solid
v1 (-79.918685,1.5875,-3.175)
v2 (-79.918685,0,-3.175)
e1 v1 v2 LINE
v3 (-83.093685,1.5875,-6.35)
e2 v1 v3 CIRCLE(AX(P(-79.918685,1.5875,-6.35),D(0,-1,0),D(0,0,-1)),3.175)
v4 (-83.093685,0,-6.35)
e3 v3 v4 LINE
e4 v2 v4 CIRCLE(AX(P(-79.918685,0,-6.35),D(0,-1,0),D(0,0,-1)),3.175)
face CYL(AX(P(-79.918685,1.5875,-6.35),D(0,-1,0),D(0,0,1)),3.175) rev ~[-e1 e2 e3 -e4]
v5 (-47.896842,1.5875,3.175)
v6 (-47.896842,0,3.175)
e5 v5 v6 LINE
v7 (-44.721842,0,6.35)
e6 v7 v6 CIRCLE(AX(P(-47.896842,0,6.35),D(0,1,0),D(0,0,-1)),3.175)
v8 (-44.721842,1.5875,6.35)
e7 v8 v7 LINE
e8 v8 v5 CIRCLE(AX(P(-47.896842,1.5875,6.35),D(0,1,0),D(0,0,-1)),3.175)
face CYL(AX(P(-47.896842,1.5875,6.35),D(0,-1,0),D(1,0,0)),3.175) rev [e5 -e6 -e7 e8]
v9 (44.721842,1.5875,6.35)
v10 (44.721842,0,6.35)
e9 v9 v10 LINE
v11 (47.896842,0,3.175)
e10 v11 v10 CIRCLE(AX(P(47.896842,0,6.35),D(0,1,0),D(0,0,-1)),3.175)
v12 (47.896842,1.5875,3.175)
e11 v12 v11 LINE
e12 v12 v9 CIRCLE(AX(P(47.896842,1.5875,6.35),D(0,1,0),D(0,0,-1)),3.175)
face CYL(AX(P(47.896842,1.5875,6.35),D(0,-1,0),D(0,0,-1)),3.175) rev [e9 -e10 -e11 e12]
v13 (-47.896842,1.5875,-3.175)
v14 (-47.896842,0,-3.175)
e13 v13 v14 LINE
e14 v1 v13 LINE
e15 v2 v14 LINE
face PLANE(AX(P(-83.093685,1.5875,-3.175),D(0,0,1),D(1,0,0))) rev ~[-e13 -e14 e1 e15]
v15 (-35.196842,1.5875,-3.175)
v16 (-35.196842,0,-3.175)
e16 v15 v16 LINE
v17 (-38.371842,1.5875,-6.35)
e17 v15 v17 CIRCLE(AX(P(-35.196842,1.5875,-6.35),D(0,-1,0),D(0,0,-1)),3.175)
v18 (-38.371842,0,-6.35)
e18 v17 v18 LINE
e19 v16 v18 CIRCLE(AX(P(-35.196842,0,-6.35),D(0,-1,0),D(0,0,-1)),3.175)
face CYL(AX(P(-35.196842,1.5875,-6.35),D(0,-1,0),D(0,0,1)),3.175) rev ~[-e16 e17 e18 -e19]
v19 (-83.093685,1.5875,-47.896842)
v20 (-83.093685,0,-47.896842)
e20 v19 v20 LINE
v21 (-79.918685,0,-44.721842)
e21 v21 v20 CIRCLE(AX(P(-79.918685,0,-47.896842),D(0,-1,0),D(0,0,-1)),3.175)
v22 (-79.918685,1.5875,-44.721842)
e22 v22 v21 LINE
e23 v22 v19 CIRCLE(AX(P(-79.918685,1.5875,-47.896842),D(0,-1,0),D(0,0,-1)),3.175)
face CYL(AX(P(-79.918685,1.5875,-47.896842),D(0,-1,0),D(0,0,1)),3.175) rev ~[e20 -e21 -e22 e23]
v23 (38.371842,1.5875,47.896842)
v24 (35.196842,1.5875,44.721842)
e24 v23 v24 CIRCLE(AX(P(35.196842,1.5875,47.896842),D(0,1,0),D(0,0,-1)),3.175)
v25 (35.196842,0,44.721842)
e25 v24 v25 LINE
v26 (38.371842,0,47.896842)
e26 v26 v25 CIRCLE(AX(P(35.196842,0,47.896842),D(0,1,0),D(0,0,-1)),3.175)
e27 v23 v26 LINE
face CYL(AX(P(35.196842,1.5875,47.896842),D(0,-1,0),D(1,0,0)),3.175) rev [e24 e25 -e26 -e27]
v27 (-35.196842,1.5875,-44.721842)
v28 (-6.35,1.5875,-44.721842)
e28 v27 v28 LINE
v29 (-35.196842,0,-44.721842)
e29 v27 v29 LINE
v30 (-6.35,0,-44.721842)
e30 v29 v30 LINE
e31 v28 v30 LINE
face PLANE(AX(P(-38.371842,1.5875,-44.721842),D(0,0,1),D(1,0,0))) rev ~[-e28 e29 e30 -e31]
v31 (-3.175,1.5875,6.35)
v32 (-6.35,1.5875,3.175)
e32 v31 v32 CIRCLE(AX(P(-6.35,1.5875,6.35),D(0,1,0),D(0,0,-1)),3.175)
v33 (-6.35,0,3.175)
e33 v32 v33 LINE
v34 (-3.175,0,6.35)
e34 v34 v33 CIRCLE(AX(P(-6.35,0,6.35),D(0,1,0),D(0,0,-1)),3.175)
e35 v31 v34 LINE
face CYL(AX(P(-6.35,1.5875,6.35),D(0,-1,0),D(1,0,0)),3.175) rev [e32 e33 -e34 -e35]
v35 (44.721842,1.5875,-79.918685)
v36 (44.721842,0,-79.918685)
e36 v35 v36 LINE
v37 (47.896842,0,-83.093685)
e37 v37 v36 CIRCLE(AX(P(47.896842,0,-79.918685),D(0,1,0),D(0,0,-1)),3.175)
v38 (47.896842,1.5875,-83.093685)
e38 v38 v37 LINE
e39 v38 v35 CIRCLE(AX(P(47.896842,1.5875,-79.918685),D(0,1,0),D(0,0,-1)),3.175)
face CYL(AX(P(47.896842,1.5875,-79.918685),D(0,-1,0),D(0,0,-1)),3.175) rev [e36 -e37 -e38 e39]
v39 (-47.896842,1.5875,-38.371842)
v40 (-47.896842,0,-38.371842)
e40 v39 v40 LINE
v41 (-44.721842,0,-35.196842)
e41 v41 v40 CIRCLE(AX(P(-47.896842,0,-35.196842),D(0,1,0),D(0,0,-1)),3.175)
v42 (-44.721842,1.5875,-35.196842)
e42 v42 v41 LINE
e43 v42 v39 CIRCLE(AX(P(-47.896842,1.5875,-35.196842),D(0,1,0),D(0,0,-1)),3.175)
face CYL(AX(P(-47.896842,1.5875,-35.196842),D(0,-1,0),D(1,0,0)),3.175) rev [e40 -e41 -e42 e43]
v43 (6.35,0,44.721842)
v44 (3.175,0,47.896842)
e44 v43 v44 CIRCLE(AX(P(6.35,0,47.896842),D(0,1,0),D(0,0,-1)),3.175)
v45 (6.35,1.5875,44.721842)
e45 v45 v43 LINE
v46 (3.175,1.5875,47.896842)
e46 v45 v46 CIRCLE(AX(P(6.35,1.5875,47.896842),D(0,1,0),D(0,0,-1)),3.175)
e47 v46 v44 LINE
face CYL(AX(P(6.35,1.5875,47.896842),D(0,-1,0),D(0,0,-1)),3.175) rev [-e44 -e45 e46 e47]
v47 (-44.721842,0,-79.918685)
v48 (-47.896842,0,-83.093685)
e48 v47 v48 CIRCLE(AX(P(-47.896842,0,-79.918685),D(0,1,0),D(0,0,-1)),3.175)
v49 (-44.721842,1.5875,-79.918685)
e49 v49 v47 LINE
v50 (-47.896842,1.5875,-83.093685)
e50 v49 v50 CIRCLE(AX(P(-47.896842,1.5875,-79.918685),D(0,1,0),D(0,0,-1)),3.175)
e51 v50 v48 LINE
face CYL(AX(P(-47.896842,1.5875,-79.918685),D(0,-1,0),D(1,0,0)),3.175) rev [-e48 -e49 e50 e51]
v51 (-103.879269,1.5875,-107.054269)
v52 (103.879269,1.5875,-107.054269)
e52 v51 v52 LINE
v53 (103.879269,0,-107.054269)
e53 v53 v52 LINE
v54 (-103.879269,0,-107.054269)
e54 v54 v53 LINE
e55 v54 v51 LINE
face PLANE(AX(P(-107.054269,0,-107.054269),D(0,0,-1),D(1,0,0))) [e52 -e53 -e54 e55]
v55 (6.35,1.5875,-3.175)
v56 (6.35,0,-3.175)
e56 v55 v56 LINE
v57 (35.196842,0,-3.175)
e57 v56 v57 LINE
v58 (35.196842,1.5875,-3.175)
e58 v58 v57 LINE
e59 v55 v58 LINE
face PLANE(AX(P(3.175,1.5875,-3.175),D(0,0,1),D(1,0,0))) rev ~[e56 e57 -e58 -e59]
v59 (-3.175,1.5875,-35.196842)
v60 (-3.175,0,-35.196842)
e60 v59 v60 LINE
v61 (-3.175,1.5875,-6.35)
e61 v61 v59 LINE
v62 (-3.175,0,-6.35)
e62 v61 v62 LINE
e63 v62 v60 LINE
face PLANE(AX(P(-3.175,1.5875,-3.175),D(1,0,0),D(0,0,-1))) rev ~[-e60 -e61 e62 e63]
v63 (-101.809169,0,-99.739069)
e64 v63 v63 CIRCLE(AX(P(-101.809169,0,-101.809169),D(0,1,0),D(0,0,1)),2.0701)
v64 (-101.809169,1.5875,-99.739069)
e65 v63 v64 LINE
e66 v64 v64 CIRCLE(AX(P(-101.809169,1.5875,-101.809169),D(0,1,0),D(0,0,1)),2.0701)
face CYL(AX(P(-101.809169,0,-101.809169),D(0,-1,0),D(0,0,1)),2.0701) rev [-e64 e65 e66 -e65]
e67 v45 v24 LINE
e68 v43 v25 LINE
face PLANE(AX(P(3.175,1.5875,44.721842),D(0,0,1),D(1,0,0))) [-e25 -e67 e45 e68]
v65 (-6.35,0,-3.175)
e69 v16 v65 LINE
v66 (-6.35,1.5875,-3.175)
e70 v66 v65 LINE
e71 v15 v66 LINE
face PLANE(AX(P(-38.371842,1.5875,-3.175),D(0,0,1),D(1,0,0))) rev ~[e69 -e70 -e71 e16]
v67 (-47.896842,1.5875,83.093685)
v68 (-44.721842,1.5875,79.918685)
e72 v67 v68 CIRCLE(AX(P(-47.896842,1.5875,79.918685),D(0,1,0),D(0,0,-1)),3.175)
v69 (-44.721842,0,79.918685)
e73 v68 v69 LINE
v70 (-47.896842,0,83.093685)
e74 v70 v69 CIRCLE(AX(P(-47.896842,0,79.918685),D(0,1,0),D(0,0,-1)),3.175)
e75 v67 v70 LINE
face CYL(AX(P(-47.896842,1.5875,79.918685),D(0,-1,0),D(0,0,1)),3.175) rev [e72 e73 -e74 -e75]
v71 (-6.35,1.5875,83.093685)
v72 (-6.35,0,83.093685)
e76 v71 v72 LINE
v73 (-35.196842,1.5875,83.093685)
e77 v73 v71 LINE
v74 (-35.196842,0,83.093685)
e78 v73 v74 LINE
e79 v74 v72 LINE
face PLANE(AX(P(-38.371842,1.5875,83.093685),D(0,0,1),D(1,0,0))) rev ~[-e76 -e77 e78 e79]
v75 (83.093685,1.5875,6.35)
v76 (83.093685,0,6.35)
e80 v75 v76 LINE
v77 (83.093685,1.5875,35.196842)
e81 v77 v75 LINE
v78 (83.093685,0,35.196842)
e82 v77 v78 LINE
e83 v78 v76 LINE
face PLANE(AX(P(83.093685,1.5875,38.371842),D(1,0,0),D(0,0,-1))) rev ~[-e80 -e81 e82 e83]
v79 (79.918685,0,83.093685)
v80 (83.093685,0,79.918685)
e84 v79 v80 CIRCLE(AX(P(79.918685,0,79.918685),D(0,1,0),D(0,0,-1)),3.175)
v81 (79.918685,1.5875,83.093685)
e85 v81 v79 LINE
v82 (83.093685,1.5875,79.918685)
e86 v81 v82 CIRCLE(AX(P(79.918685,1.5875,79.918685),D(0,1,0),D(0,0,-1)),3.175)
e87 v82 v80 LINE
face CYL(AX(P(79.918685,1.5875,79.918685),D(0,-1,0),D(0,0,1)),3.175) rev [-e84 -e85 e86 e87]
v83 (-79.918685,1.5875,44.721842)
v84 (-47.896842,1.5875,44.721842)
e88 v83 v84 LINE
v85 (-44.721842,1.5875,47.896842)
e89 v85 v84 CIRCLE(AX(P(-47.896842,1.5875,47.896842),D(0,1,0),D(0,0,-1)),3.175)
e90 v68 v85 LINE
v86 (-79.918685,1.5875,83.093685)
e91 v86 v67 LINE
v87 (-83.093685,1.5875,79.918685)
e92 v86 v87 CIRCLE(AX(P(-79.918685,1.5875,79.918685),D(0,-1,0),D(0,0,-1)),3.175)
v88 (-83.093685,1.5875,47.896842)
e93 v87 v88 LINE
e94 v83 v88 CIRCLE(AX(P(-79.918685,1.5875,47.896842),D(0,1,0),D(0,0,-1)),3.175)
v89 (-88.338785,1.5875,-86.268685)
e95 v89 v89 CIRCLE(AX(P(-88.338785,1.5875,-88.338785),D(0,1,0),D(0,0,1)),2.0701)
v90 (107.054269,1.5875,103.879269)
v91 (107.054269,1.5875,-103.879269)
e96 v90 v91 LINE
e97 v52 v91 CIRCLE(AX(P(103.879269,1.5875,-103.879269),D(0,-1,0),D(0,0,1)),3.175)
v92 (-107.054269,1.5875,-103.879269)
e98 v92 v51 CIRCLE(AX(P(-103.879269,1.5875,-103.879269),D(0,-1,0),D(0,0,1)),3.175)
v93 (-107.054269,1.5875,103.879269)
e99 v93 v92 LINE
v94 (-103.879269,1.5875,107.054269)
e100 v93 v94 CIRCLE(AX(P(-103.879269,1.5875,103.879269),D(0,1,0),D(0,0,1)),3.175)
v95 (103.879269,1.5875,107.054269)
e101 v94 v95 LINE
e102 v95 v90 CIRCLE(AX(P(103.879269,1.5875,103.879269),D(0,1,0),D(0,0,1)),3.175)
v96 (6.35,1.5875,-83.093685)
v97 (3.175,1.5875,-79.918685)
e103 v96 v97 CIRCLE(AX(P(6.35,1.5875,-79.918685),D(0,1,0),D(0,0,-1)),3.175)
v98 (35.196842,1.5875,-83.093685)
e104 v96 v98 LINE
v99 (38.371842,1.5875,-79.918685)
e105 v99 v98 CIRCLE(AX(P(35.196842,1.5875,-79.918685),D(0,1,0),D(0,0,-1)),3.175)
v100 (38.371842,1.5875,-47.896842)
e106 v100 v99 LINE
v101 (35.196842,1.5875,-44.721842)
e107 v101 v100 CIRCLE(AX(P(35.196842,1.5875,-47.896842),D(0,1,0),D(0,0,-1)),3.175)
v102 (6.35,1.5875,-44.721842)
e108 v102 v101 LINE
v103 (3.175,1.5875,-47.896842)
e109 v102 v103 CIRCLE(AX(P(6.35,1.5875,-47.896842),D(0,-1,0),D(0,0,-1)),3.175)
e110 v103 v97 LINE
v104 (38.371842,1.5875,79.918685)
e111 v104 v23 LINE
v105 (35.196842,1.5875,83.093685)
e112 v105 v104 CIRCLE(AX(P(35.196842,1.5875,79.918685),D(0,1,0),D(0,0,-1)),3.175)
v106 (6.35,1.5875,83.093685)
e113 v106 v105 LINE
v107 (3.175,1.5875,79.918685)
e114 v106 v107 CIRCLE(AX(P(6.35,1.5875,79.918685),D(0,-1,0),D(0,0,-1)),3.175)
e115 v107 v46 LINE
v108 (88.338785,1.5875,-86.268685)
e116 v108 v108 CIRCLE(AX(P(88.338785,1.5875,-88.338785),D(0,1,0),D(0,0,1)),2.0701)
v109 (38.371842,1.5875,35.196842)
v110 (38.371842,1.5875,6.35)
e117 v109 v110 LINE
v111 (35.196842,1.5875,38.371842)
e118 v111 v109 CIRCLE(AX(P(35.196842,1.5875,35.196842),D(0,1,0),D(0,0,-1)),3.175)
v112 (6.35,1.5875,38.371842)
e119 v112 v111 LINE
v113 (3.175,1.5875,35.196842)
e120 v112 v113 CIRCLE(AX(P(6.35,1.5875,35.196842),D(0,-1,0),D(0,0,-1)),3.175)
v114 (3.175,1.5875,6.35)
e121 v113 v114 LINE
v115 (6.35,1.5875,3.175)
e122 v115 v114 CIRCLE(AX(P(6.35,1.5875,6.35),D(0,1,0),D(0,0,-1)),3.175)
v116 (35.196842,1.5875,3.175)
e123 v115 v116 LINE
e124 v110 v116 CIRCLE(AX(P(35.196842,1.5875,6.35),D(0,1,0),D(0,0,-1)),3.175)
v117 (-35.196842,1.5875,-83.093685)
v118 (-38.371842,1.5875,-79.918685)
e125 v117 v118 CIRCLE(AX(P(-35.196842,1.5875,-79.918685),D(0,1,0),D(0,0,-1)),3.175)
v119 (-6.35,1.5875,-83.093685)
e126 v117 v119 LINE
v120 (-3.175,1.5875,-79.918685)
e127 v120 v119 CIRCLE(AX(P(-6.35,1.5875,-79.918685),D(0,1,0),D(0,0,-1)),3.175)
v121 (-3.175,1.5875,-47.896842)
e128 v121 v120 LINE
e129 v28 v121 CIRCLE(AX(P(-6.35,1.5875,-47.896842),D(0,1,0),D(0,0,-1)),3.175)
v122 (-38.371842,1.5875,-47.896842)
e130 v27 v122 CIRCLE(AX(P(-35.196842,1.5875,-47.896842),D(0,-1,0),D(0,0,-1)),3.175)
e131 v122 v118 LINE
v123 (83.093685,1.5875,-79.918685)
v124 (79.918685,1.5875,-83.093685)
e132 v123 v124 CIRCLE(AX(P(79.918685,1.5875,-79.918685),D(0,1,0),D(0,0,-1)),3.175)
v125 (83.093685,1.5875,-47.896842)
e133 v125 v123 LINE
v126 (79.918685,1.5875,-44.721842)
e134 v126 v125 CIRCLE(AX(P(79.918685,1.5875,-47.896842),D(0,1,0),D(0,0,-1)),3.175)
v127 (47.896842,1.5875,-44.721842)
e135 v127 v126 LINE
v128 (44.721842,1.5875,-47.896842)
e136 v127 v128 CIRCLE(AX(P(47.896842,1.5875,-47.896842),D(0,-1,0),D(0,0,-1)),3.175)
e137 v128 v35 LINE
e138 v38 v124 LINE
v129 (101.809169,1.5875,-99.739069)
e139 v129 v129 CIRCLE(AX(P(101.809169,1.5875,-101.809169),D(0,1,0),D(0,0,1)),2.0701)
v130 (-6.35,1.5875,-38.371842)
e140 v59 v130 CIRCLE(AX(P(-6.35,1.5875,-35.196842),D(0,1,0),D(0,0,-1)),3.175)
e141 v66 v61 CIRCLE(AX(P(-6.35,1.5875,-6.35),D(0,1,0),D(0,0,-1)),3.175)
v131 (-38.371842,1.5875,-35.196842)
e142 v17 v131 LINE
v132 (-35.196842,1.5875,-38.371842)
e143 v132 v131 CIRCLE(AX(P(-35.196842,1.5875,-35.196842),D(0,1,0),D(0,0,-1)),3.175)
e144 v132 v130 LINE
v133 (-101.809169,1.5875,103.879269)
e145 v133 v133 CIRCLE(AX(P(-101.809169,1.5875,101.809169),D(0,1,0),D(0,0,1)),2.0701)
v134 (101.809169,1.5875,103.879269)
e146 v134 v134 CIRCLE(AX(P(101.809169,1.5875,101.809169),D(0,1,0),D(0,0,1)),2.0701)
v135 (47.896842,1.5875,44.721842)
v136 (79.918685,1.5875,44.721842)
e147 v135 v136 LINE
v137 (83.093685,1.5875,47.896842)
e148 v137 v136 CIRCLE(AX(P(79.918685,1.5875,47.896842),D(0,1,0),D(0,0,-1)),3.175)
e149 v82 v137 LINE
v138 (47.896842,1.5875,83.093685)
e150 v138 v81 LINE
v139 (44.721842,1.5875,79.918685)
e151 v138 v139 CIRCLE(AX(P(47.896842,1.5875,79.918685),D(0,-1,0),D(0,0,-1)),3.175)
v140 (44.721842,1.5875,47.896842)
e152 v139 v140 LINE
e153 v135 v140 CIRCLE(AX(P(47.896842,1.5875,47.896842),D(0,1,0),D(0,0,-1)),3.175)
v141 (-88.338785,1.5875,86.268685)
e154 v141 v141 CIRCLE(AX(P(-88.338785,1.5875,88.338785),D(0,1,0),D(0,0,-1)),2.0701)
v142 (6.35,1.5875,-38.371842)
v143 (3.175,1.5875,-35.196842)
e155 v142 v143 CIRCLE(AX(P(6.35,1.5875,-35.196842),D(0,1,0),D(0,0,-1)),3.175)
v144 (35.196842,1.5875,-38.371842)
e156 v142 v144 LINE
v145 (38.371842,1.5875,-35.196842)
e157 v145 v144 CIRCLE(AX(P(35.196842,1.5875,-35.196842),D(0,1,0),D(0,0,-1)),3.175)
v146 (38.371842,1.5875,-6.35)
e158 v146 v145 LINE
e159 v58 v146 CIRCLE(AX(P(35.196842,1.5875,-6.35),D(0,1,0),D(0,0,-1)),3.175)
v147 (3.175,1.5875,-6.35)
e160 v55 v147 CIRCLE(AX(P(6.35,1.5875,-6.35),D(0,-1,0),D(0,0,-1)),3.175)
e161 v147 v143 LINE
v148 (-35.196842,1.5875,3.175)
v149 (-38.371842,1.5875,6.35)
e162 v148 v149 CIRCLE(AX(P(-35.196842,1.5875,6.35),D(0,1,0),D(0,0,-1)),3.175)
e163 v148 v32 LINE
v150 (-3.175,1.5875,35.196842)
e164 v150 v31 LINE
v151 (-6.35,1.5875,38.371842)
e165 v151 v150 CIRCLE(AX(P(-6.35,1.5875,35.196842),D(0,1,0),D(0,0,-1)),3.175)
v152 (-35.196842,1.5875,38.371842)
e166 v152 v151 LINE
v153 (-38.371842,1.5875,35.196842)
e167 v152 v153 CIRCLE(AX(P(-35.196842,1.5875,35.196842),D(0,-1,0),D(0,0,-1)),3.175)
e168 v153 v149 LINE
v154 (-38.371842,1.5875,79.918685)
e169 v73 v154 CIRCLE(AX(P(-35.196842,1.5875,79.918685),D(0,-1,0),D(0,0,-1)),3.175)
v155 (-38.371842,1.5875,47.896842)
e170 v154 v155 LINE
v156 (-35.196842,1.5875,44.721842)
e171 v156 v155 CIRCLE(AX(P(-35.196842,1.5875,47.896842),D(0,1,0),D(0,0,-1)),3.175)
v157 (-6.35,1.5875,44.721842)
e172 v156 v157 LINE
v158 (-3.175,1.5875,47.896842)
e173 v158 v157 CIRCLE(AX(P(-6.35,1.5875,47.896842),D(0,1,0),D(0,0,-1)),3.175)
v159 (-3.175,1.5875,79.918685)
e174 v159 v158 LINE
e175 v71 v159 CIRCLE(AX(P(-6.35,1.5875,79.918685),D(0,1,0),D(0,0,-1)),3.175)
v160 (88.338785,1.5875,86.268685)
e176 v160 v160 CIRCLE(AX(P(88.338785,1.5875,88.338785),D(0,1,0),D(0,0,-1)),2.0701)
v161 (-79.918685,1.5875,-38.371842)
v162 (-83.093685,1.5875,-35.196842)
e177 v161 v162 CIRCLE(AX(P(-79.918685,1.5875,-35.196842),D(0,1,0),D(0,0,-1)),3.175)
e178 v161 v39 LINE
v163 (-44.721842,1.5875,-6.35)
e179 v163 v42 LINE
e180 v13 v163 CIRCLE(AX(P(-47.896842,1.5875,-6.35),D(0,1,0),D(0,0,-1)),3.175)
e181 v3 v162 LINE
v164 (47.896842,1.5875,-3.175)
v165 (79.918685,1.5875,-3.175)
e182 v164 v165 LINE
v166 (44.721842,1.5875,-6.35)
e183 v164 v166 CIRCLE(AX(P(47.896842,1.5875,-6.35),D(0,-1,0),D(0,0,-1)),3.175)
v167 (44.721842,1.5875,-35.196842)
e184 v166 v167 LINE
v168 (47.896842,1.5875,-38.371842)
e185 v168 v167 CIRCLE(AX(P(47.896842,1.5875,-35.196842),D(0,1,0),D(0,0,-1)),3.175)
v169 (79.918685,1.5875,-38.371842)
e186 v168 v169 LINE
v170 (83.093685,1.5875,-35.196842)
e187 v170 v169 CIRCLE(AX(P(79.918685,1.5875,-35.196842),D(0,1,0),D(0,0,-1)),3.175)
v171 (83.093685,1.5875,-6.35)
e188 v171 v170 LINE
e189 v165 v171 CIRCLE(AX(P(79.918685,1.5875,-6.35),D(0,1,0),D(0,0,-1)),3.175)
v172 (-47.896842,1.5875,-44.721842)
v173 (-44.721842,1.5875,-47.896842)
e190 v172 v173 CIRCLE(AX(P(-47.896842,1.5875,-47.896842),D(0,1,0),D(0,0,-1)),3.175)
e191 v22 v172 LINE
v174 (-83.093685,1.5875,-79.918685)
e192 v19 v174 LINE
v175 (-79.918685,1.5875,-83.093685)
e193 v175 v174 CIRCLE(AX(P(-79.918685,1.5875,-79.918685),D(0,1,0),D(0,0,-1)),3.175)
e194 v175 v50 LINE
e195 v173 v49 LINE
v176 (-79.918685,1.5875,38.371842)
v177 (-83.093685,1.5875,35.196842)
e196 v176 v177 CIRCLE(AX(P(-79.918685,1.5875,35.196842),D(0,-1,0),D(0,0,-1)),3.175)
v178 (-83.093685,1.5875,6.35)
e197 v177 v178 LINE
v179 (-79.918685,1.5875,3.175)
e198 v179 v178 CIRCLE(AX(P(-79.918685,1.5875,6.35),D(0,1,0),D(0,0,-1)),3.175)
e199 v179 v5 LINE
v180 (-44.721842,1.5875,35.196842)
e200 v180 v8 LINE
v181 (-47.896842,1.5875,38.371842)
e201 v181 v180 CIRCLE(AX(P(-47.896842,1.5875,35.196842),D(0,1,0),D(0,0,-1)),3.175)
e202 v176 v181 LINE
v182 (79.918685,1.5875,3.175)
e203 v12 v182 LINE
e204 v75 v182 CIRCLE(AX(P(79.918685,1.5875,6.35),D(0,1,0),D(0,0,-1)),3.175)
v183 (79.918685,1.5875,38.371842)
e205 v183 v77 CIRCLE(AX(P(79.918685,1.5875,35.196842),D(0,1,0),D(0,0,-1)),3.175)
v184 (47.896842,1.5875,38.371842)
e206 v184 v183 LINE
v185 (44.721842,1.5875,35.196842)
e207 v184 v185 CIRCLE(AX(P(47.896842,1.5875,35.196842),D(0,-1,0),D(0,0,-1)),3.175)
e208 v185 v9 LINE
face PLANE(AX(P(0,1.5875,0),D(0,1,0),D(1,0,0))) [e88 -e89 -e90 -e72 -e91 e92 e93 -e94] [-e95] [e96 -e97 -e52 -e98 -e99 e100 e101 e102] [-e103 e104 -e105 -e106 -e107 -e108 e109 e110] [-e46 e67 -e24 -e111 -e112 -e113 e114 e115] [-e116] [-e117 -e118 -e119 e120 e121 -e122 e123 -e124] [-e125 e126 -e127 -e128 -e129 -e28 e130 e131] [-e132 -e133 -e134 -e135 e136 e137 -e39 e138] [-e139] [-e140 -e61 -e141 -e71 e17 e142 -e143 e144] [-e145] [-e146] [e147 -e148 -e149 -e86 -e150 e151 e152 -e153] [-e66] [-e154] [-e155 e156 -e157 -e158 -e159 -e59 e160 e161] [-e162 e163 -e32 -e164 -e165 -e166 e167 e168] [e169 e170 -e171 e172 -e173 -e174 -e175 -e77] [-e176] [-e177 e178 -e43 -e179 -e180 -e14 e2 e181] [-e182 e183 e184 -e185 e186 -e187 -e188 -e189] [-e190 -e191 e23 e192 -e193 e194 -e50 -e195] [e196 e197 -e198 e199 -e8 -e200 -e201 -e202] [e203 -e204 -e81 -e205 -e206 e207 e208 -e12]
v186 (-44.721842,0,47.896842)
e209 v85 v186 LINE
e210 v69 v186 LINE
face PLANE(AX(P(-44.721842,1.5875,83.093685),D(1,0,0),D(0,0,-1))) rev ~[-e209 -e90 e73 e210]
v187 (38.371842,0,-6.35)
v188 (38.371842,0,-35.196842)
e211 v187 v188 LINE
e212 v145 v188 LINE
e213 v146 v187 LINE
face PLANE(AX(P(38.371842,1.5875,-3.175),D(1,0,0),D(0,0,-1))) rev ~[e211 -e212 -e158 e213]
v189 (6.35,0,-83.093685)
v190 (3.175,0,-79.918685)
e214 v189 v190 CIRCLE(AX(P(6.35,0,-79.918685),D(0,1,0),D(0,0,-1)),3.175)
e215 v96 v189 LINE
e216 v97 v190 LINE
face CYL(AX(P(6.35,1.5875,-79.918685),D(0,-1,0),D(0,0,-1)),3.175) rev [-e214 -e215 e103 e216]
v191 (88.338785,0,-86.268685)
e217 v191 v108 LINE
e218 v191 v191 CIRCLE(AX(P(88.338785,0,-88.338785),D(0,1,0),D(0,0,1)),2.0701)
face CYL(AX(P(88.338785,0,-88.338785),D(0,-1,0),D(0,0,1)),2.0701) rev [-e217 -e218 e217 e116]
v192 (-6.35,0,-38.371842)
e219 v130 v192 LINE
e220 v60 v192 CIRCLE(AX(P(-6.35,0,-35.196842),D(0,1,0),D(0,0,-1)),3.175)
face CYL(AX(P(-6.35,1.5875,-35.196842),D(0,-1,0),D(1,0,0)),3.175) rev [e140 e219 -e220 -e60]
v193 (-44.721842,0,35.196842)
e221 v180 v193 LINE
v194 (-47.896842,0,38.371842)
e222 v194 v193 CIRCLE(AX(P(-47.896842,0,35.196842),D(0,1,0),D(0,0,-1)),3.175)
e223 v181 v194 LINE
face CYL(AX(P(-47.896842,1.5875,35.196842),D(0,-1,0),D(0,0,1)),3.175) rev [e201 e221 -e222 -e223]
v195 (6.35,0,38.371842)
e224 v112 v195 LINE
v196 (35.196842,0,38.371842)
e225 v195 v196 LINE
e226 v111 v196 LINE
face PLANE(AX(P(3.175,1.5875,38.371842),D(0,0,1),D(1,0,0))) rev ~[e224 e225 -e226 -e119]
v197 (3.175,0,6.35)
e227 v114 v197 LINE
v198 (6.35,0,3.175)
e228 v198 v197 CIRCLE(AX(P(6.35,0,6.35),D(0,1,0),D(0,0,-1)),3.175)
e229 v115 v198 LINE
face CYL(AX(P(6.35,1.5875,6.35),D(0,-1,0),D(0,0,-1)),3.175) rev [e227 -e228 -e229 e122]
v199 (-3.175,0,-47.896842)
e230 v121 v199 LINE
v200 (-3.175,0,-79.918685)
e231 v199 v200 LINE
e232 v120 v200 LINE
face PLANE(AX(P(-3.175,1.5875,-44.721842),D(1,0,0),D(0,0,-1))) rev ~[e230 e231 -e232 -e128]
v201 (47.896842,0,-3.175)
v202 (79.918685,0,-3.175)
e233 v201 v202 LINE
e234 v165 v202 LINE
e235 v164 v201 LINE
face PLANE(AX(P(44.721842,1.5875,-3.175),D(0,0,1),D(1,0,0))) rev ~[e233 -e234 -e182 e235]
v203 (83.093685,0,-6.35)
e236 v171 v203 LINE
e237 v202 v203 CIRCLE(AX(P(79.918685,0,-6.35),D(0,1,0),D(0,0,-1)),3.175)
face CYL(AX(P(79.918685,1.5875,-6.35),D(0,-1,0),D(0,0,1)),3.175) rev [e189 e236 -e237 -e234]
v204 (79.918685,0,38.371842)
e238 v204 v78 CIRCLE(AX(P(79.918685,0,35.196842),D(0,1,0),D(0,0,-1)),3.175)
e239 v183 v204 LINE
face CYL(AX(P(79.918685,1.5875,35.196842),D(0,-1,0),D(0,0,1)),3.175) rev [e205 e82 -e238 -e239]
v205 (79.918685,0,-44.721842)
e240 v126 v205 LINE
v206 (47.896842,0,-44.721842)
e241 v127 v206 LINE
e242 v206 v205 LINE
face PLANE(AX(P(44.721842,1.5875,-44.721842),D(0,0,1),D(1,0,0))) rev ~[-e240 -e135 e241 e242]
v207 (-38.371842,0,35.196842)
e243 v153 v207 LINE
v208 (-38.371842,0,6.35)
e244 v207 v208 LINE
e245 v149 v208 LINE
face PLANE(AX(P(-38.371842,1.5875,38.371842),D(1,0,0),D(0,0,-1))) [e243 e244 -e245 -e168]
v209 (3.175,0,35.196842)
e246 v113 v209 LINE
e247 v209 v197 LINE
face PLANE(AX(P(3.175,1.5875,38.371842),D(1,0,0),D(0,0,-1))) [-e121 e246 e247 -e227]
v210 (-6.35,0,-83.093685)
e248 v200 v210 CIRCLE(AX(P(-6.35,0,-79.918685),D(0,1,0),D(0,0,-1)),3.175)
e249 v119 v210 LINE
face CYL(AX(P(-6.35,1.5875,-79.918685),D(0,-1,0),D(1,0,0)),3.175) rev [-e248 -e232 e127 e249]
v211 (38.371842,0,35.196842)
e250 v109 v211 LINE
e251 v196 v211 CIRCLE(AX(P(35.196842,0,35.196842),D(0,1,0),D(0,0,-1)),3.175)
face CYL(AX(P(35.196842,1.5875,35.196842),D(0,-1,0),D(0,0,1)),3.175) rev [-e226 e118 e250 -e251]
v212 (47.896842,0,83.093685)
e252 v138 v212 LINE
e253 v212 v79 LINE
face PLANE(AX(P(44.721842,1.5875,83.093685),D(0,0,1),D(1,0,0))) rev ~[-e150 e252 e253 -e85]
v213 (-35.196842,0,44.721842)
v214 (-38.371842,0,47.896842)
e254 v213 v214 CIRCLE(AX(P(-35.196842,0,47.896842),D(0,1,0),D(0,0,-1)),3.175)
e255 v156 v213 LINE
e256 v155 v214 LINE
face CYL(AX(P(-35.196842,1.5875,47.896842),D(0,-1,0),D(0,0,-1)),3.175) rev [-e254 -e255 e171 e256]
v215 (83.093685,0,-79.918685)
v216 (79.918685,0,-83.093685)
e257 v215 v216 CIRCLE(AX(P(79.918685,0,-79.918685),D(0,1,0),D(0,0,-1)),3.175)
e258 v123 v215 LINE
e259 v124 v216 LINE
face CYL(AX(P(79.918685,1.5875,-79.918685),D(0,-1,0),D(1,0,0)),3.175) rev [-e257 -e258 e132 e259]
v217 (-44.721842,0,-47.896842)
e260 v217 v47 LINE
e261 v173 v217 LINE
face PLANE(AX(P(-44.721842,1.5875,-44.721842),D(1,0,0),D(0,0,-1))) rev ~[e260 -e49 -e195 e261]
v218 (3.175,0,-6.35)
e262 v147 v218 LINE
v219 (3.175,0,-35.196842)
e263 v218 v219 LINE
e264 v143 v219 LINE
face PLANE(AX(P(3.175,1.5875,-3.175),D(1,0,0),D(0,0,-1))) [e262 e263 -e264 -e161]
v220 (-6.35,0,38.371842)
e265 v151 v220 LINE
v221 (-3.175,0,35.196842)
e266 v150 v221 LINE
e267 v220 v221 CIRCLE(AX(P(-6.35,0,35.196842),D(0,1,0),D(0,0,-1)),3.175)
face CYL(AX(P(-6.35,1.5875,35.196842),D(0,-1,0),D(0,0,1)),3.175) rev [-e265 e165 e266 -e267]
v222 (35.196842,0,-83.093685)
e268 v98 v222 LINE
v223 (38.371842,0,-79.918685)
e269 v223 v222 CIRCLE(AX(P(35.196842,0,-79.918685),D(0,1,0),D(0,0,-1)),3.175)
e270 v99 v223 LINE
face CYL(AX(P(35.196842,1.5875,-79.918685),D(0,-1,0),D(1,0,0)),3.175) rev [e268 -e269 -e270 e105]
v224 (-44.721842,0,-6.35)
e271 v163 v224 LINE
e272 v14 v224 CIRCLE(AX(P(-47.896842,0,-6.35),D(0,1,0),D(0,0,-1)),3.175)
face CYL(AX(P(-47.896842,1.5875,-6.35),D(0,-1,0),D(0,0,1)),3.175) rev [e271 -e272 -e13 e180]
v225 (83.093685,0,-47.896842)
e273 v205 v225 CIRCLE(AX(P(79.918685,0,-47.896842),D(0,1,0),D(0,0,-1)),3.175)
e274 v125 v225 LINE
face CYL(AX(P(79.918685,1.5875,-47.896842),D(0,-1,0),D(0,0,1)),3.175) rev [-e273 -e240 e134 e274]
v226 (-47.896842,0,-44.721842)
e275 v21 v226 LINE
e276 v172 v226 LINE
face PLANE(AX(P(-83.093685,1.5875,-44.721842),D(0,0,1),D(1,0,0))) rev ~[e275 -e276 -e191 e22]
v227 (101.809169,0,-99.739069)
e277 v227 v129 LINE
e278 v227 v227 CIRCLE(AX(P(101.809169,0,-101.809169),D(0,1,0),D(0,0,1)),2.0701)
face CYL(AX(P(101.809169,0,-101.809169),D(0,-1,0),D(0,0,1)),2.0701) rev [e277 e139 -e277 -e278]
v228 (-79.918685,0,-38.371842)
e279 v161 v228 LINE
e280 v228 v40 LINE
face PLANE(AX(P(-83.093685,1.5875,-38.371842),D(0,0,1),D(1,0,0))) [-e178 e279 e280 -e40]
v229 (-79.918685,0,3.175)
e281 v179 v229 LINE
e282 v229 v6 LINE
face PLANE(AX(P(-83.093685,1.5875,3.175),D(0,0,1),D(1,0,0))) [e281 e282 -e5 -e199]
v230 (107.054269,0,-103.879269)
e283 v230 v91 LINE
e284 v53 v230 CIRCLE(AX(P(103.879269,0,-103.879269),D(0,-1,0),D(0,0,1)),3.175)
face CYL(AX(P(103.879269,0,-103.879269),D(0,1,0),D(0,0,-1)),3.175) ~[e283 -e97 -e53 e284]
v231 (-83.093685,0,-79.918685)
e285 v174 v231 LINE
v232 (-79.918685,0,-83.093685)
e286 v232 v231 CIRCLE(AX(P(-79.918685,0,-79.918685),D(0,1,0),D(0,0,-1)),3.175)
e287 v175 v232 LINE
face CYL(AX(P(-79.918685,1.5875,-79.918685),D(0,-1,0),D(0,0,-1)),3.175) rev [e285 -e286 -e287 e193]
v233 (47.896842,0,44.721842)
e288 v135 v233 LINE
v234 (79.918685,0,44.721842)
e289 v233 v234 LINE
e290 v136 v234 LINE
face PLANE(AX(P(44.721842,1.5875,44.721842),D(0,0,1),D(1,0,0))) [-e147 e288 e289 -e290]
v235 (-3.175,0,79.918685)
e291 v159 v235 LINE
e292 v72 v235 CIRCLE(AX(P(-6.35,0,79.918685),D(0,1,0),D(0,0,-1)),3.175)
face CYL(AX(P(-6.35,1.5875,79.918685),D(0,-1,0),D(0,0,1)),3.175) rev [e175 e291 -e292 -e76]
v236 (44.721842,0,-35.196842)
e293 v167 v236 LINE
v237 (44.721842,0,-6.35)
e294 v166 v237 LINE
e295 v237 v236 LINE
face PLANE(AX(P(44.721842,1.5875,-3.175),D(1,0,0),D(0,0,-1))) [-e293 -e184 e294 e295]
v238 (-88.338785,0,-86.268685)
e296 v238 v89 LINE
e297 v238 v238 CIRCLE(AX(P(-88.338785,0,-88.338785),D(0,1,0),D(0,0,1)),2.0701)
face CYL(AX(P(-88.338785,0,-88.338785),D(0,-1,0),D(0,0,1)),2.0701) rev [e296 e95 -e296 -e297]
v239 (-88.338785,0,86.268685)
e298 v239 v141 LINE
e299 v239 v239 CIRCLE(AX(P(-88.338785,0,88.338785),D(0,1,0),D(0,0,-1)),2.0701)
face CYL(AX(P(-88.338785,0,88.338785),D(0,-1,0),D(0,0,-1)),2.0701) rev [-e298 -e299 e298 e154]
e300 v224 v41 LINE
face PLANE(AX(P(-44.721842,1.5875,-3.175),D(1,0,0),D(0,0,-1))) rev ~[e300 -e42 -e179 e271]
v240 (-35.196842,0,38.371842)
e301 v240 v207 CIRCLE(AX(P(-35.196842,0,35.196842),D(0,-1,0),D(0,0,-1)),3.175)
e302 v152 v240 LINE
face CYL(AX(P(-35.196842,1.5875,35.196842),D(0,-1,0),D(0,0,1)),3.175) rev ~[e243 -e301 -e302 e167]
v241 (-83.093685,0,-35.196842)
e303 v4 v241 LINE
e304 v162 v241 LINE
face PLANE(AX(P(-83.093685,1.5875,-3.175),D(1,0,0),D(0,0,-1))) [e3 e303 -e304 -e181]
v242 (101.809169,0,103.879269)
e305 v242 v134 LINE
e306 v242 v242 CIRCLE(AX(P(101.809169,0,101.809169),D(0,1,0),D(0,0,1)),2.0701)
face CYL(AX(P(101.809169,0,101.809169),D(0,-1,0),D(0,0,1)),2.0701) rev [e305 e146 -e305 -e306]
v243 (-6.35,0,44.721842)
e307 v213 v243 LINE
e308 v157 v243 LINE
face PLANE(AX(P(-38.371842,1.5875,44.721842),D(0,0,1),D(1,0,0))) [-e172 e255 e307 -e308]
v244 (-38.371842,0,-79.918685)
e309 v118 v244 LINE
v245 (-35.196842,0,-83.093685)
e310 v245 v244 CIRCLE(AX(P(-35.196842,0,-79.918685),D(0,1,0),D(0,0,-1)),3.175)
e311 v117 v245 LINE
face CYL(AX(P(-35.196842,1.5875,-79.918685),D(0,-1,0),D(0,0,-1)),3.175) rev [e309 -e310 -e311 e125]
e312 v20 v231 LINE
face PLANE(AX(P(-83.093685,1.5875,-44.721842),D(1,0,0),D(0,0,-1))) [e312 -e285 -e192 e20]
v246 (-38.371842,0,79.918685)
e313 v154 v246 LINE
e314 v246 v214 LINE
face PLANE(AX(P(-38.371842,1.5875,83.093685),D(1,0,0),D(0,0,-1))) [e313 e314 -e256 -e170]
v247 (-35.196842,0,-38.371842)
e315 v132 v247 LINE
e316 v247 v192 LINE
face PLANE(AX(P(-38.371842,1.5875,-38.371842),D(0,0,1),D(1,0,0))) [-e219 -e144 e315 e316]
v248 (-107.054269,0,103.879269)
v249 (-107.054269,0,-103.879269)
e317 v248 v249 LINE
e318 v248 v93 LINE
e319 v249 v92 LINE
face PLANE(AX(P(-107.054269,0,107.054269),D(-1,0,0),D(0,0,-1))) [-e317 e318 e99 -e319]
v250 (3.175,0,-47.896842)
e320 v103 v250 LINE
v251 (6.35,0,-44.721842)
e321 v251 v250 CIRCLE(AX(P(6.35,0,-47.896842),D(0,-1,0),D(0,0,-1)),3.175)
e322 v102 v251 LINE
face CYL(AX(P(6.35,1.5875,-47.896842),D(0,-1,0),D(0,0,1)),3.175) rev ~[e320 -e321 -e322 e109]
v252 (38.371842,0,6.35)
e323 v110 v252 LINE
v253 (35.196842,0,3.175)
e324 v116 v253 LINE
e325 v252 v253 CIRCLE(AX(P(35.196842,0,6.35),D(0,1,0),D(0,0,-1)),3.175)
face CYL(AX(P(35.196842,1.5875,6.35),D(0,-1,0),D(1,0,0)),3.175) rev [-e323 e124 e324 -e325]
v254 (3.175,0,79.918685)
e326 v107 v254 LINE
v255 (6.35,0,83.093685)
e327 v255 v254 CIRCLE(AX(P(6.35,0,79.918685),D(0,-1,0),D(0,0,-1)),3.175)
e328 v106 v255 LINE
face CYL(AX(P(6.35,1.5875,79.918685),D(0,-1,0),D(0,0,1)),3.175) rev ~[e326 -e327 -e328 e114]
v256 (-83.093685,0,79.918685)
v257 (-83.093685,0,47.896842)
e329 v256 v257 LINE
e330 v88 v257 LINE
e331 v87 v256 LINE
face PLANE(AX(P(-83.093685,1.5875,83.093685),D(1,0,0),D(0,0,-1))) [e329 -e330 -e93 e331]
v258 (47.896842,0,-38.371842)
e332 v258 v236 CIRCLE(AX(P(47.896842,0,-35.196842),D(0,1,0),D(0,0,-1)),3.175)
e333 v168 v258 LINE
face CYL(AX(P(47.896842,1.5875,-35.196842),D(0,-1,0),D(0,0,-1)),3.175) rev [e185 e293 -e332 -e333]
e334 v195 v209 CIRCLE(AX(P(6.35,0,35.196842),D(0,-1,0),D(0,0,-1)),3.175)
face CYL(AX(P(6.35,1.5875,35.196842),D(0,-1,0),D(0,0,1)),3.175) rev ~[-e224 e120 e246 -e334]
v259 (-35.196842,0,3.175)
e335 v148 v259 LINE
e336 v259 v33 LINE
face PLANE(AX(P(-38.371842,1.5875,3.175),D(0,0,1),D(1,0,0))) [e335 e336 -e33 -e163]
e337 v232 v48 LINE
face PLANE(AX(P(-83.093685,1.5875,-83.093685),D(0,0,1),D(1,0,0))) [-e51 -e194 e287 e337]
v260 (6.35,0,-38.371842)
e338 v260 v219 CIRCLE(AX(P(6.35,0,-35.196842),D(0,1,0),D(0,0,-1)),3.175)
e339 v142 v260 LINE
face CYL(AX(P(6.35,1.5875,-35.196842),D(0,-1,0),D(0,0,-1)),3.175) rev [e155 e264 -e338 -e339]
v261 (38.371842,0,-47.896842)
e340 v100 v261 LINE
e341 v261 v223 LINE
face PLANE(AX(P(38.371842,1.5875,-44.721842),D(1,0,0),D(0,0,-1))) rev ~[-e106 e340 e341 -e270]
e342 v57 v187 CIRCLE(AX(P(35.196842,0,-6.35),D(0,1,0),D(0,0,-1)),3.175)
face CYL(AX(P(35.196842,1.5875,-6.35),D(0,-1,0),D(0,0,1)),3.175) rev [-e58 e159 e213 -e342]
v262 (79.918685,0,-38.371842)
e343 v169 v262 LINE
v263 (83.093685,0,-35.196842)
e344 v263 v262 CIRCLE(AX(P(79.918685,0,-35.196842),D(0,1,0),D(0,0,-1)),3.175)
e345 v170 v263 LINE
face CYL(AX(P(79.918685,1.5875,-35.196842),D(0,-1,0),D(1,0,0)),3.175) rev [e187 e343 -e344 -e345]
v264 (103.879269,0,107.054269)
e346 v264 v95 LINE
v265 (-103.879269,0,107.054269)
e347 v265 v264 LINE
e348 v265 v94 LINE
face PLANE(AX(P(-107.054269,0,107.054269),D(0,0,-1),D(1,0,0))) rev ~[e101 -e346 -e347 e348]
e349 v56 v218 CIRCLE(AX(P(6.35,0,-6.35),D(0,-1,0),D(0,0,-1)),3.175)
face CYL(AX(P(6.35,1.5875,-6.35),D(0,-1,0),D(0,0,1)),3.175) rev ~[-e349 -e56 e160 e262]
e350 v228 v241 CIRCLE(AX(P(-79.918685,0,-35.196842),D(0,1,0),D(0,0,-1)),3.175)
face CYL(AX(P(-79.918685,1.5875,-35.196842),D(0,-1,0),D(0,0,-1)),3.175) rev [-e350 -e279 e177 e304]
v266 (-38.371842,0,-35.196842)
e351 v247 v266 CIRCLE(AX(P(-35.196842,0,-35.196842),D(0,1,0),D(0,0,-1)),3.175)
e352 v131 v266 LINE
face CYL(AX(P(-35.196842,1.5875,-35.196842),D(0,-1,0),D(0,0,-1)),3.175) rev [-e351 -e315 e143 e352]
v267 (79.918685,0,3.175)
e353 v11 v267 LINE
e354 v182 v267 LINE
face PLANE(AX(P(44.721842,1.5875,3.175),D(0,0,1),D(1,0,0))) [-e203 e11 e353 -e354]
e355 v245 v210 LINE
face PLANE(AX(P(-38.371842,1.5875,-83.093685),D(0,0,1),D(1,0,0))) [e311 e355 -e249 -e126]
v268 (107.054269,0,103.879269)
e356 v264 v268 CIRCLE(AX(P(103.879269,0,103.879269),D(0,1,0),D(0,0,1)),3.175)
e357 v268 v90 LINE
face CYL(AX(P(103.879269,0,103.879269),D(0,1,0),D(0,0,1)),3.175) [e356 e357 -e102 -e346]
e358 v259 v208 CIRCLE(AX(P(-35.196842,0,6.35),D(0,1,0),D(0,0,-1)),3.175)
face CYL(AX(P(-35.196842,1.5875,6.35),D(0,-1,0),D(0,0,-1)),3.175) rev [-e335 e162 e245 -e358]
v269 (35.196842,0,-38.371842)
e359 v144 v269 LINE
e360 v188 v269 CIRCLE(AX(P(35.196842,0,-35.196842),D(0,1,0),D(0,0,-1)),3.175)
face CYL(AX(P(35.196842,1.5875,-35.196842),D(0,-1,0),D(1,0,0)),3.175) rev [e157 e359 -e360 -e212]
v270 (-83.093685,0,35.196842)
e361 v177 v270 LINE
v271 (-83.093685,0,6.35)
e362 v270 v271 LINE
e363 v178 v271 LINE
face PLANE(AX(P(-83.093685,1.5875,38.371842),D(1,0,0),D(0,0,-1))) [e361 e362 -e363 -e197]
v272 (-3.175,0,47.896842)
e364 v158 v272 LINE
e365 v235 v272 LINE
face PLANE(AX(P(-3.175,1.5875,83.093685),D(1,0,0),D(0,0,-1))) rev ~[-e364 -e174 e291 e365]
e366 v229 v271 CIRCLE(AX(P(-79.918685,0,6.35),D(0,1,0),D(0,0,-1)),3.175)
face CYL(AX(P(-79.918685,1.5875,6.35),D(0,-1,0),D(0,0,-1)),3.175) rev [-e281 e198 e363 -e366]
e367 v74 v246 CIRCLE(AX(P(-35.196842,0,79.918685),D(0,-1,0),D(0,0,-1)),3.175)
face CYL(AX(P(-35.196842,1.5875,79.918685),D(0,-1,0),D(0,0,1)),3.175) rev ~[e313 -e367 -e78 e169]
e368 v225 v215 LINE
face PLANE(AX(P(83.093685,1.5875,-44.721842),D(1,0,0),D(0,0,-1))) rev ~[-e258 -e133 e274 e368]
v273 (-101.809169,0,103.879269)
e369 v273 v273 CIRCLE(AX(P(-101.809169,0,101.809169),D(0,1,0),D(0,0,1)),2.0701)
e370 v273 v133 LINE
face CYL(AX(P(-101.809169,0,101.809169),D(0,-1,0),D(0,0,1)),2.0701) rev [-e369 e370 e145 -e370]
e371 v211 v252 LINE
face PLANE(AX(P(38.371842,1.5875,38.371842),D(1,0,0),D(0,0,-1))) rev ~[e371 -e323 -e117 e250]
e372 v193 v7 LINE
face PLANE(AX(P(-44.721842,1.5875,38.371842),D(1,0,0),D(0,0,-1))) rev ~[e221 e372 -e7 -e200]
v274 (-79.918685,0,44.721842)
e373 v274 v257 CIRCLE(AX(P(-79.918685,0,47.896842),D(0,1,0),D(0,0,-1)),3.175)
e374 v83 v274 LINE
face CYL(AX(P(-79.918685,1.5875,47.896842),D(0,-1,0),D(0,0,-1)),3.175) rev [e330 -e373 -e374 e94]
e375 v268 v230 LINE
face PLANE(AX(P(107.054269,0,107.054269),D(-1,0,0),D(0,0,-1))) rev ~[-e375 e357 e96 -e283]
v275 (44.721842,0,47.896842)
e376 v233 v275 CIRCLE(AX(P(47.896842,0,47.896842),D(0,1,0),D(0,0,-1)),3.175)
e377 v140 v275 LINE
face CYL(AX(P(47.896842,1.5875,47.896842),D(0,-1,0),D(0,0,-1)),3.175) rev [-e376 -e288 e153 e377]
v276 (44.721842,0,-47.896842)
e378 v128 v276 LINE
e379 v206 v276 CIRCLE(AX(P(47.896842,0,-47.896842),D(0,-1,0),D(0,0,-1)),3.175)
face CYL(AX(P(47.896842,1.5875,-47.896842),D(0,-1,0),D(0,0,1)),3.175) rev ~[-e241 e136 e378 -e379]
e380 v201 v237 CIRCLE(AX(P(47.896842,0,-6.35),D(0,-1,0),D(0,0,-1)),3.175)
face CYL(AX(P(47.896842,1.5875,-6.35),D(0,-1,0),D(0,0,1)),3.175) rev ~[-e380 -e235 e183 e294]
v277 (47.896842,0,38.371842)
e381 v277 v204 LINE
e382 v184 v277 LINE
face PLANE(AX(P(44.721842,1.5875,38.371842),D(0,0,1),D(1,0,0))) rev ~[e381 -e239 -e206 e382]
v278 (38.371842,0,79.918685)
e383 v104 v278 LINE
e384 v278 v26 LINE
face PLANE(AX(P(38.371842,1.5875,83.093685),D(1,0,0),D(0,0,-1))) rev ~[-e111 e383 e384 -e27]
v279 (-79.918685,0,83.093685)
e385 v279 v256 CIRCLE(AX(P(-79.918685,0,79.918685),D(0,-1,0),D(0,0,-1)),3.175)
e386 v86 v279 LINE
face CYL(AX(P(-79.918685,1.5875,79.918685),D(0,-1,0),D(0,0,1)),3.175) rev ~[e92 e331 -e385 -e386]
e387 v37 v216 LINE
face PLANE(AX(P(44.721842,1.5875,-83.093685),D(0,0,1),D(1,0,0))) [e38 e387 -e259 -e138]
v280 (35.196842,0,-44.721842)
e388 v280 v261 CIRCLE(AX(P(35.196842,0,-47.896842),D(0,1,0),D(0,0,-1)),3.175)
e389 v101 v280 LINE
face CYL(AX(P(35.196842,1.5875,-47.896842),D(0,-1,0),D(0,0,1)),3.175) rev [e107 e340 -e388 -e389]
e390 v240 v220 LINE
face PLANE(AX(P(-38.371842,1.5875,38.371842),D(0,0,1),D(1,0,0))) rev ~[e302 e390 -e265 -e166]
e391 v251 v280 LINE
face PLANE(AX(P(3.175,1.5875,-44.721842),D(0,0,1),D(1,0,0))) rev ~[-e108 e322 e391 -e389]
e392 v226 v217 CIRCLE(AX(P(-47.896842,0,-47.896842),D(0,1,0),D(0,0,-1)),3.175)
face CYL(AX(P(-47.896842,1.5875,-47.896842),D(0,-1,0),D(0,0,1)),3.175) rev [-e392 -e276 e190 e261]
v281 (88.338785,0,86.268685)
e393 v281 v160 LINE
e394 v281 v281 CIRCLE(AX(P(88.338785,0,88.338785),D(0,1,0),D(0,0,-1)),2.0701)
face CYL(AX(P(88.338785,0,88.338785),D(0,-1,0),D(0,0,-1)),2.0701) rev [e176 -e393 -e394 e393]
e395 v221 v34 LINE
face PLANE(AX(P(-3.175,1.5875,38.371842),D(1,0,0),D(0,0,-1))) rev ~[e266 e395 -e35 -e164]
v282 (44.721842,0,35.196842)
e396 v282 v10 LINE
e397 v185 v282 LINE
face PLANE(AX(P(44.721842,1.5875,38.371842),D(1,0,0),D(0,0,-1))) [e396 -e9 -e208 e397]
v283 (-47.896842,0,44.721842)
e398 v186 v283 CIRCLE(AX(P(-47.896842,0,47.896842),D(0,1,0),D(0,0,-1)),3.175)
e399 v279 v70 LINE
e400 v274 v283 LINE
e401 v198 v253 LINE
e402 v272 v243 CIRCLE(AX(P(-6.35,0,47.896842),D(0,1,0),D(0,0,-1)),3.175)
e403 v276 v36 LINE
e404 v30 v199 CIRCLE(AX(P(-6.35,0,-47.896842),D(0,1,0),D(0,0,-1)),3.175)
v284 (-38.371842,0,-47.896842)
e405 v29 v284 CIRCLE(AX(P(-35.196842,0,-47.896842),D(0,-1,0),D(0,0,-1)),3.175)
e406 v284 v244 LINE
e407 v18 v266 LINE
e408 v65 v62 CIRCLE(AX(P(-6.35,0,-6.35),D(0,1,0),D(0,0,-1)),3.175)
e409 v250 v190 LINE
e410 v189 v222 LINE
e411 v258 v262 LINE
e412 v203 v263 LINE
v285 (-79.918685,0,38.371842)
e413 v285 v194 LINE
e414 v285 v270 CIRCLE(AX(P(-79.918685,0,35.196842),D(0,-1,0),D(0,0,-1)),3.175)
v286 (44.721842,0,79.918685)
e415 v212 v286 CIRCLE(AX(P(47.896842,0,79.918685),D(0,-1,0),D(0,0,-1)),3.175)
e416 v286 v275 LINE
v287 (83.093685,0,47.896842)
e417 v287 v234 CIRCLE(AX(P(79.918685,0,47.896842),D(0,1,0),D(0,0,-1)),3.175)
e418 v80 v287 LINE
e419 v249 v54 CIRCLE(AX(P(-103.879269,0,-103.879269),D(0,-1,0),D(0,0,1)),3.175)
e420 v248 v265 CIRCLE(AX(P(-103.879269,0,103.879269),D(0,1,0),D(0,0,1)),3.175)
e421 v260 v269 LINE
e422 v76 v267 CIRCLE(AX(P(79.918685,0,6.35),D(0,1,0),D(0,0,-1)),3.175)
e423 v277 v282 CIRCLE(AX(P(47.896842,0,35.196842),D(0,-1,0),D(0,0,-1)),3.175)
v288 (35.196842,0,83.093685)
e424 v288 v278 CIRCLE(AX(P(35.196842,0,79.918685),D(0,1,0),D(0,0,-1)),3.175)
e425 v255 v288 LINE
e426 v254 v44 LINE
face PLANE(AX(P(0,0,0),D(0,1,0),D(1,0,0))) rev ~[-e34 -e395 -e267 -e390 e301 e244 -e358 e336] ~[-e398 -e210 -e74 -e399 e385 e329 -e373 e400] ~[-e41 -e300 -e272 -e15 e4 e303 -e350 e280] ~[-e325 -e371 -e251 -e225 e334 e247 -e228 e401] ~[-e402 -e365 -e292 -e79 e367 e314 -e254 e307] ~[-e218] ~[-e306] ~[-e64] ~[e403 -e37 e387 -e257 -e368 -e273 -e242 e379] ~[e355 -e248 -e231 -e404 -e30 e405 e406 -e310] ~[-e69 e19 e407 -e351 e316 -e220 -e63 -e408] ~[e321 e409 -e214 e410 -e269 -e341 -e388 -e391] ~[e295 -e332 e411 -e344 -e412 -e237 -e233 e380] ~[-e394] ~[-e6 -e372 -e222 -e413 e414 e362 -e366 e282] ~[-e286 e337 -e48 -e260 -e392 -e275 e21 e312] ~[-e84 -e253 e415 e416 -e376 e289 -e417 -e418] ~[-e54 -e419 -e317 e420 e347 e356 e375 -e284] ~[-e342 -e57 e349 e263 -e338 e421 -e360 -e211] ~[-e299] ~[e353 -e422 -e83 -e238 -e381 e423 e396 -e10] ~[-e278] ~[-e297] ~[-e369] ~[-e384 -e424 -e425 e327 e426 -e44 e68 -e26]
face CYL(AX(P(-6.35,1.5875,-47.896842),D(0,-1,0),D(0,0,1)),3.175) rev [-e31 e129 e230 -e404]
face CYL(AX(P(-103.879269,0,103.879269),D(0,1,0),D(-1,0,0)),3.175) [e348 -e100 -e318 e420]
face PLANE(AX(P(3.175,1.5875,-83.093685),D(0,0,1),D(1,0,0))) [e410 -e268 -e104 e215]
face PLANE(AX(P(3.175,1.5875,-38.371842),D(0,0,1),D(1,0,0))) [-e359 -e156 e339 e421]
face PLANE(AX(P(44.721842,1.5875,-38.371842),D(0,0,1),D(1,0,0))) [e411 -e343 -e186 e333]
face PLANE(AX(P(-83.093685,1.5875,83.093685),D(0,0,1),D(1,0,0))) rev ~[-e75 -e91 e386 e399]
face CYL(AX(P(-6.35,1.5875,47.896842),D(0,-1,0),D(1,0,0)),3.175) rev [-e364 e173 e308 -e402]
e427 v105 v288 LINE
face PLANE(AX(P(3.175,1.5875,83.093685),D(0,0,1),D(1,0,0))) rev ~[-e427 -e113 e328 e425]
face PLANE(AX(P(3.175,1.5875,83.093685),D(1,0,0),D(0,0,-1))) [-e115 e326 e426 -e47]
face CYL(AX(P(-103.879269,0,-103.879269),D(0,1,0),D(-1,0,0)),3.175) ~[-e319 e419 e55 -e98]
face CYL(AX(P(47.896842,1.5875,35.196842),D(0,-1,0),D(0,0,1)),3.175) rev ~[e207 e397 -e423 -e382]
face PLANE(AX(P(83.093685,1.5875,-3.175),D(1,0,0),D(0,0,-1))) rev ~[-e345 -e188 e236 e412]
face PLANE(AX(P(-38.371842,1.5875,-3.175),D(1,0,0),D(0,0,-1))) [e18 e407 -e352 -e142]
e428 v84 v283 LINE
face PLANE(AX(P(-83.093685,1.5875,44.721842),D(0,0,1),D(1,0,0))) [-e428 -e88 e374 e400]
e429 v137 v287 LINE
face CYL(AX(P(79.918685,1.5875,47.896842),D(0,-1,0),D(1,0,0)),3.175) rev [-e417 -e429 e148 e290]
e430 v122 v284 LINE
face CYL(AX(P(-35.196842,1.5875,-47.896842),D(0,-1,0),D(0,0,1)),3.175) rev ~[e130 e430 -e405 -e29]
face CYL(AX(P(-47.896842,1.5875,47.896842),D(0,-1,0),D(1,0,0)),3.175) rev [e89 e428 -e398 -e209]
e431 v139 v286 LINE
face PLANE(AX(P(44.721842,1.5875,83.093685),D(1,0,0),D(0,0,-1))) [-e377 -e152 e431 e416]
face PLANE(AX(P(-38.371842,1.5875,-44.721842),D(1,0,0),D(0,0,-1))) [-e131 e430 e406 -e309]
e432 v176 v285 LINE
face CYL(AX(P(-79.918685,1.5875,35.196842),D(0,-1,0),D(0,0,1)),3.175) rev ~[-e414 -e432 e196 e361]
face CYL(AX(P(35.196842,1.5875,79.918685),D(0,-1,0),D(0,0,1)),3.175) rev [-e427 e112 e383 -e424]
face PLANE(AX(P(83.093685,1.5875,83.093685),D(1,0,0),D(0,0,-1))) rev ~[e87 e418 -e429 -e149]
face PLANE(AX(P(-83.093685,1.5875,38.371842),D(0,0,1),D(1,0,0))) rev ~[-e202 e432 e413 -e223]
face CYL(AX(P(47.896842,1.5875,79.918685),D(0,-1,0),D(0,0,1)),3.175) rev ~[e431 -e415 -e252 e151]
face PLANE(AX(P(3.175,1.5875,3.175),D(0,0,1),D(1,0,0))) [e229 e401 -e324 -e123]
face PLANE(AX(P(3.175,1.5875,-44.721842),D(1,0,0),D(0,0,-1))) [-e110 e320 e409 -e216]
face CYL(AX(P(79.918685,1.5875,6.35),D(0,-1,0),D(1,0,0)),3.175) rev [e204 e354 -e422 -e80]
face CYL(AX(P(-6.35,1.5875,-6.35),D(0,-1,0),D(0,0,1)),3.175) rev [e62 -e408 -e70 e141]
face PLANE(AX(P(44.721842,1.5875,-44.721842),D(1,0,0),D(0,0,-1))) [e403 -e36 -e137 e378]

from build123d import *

# Parameters (mm, degrees)
SKETCH1_W           = 214.108538
SKETCH1_H           = 214.108538
SKETCH1_R           = 2.0701
BOSS_EXTRUDE1_DEPTH = 1.5875
SKETCH2_W           = 38.371842409
SKETCH2_H           = 38.371842409
SKETCH2_H_2         = 35.196842409
SKETCH2_W_2         = 35.196842409
CUT_EXTRUDE1_DEPTH  = 152.405921874
FILLET1_R           = 3.175
FILLET2_R           = 3.175


with BuildPart() as part:
    # Sketch1 → Boss-Extrude1 (new body)
    with BuildSketch(Plane(origin=(0, 0, 0), x_dir=(1, 0, 0), z_dir=(0, 1, 0))):
        Rectangle(SKETCH1_W, SKETCH1_H)
        with Locations(Location((-101.809169, 101.809169, 0), (0, 0, 270))):
            Circle(SKETCH1_R, mode=Mode.SUBTRACT)
        with Locations(Location((-101.809169, -101.809169, 0), (0, 0, 270))):
            Circle(SKETCH1_R, mode=Mode.SUBTRACT)
        with Locations(Location((101.809169, -101.809169, 0), (0, 0, 270))):
            Circle(SKETCH1_R, mode=Mode.SUBTRACT)
        with Locations(Location((101.809169, 101.809169, 0), (0, 0, 270))):
            Circle(SKETCH1_R, mode=Mode.SUBTRACT)
        with Locations(Location((-88.338784818, 88.338784818, 0), (0, 0, 270))):
            Circle(SKETCH1_R, mode=Mode.SUBTRACT)
        with Locations(Location((88.338784818, -88.338784818, 0), (0, 0, 90))):
            Circle(SKETCH1_R, mode=Mode.SUBTRACT)
        with Locations(Location((88.338784818, 88.338784818, 0), (0, 0, 270))):
            Circle(SKETCH1_R, mode=Mode.SUBTRACT)
        with Locations(Location((-88.338784818, -88.338784818, 0), (0, 0, 90))):
            Circle(SKETCH1_R, mode=Mode.SUBTRACT)
    extrude(amount=BOSS_EXTRUDE1_DEPTH)

    # Sketch2 → Cut-Extrude1 (cut, through all)
    with BuildSketch(Plane(origin=(0, 1.5875, 0), x_dir=(1, 0, 0), z_dir=(0, 1, 0))):
        with Locations((-63.907763614, 63.907763614)):
            Rectangle(SKETCH2_W, SKETCH2_H)
        with Locations((-63.907763614, 20.773421204)):
            Rectangle(SKETCH2_W, SKETCH2_H_2)
        with Locations((-20.773421204, 63.907763614)):
            Rectangle(SKETCH2_W_2, SKETCH2_H)
        with Locations((-20.773421204, 20.773421204)):
            Rectangle(SKETCH2_W_2, SKETCH2_H_2)
        with Locations((20.773421204, 63.907763614)):
            Rectangle(SKETCH2_W_2, SKETCH2_H)
        with Locations((20.773421204, 20.773421204)):
            Rectangle(SKETCH2_W_2, SKETCH2_H_2)
        with Locations((63.907763614, 63.907763614)):
            Rectangle(SKETCH2_W, SKETCH2_H)
        with Locations((63.907763614, 20.773421204)):
            Rectangle(SKETCH2_W, SKETCH2_H_2)
        with Locations((63.907763614, -20.773421204)):
            Rectangle(SKETCH2_W, SKETCH2_H_2)
        with Locations((20.773421204, -20.773421204)):
            Rectangle(SKETCH2_W_2, SKETCH2_H_2)
        with Locations((-20.773421204, -20.773421204)):
            Rectangle(SKETCH2_W_2, SKETCH2_H_2)
        with Locations((-63.907763614, -20.773421204)):
            Rectangle(SKETCH2_W, SKETCH2_H_2)
        with Locations((-63.907763614, -63.907763614)):
            Rectangle(SKETCH2_W, SKETCH2_H)
        with Locations((-20.773421204, -63.907763614)):
            Rectangle(SKETCH2_W_2, SKETCH2_H)
        with Locations((20.773421204, -63.907763614)):
            Rectangle(SKETCH2_W_2, SKETCH2_H)
        with Locations((63.907763614, -63.907763614)):
            Rectangle(SKETCH2_W, SKETCH2_H)
    extrude(amount=-CUT_EXTRUDE1_DEPTH, mode=Mode.SUBTRACT)

    # Fillet1
    fillet1_edges = [part.edges().sort_by_distance(p)[0] for p in [
        (-107.054269, 0.79375, -107.054269),
        (107.054269, 0.79375, -107.054269),
        (107.054269, 0.79375, 107.054269),
        (-107.054269, 0.79375, 107.054269),
    ]]
    fillet(fillet1_edges, radius=FILLET1_R)

    # Fillet2
    fillet2_edges = [part.edges().sort_by_distance(p)[0] for p in [
        (-44.721842409, 0.79375, -44.721842409),
        (-83.093684818, 0.79375, -44.721842409),
        (-83.093684818, 0.79375, -83.093684818),
        (-44.721842409, 0.79375, -83.093684818),
        (-44.721842409, 0.79375, -38.371842409),
        (-44.721842409, 0.79375, -3.175),
        (-83.093684818, 0.79375, -3.175),
        (-83.093684818, 0.79375, -38.371842409),
        (-3.175, 0.79375, -83.093684818),
        (-3.175, 0.79375, -44.721842409),
        (-38.371842409, 0.79375, -44.721842409),
        (-38.371842409, 0.79375, -83.093684818),
        (-3.175, 0.79375, -38.371842409),
        (-3.175, 0.79375, -3.175),
        (-38.371842409, 0.79375, -3.175),
        (-38.371842409, 0.79375, -38.371842409),
        (38.371842409, 0.79375, -44.721842409),
        (3.175, 0.79375, -44.721842409),
        (3.175, 0.79375, -83.093684818),
        (38.371842409, 0.79375, -83.093684818),
        (38.371842409, 0.79375, -3.175),
        (3.175, 0.79375, -3.175),
        (3.175, 0.79375, -38.371842409),
        (38.371842409, 0.79375, -38.371842409),
        (44.721842409, 0.79375, -44.721842409),
        (44.721842409, 0.79375, -83.093684818),
        (83.093684818, 0.79375, -83.093684818),
        (83.093684818, 0.79375, -44.721842409),
        (83.093684818, 0.79375, -38.371842409),
        (83.093684818, 0.79375, -3.175),
        (44.721842409, 0.79375, -3.175),
        (44.721842409, 0.79375, -38.371842409),
        (44.721842409, 0.79375, 38.371842409),
        (44.721842409, 0.79375, 3.175),
        (83.093684818, 0.79375, 3.175),
        (83.093684818, 0.79375, 38.371842409),
        (38.371842409, 0.79375, 38.371842409),
        (3.175, 0.79375, 38.371842409),
        (3.175, 0.79375, 3.175),
        (38.371842409, 0.79375, 3.175),
        (-3.175, 0.79375, 3.175),
        (-3.175, 0.79375, 38.371842409),
        (-38.371842409, 0.79375, 38.371842409),
        (-38.371842409, 0.79375, 3.175),
        (-44.721842409, 0.79375, 38.371842409),
        (-83.093684818, 0.79375, 38.371842409),
        (-83.093684818, 0.79375, 3.175),
        (-44.721842409, 0.79375, 3.175),
        (-44.721842409, 0.79375, 44.721842409),
        (-44.721842409, 0.79375, 83.093684818),
        (-83.093684818, 0.79375, 83.093684818),
        (-83.093684818, 0.79375, 44.721842409),
        (-3.175, 0.79375, 44.721842409),
        (-3.175, 0.79375, 83.093684818),
        (-38.371842409, 0.79375, 83.093684818),
        (-38.371842409, 0.79375, 44.721842409),
        (38.371842409, 0.79375, 83.093684818),
        (3.175, 0.79375, 83.093684818),
        (3.175, 0.79375, 44.721842409),
        (38.371842409, 0.79375, 44.721842409),
        (83.093684818, 0.79375, 44.721842409),
        (83.093684818, 0.79375, 83.093684818),
        (44.721842409, 0.79375, 83.093684818),
        (44.721842409, 0.79375, 44.721842409),
    ]]
    fillet(fillet2_edges, radius=FILLET2_R)


solid = part.part
